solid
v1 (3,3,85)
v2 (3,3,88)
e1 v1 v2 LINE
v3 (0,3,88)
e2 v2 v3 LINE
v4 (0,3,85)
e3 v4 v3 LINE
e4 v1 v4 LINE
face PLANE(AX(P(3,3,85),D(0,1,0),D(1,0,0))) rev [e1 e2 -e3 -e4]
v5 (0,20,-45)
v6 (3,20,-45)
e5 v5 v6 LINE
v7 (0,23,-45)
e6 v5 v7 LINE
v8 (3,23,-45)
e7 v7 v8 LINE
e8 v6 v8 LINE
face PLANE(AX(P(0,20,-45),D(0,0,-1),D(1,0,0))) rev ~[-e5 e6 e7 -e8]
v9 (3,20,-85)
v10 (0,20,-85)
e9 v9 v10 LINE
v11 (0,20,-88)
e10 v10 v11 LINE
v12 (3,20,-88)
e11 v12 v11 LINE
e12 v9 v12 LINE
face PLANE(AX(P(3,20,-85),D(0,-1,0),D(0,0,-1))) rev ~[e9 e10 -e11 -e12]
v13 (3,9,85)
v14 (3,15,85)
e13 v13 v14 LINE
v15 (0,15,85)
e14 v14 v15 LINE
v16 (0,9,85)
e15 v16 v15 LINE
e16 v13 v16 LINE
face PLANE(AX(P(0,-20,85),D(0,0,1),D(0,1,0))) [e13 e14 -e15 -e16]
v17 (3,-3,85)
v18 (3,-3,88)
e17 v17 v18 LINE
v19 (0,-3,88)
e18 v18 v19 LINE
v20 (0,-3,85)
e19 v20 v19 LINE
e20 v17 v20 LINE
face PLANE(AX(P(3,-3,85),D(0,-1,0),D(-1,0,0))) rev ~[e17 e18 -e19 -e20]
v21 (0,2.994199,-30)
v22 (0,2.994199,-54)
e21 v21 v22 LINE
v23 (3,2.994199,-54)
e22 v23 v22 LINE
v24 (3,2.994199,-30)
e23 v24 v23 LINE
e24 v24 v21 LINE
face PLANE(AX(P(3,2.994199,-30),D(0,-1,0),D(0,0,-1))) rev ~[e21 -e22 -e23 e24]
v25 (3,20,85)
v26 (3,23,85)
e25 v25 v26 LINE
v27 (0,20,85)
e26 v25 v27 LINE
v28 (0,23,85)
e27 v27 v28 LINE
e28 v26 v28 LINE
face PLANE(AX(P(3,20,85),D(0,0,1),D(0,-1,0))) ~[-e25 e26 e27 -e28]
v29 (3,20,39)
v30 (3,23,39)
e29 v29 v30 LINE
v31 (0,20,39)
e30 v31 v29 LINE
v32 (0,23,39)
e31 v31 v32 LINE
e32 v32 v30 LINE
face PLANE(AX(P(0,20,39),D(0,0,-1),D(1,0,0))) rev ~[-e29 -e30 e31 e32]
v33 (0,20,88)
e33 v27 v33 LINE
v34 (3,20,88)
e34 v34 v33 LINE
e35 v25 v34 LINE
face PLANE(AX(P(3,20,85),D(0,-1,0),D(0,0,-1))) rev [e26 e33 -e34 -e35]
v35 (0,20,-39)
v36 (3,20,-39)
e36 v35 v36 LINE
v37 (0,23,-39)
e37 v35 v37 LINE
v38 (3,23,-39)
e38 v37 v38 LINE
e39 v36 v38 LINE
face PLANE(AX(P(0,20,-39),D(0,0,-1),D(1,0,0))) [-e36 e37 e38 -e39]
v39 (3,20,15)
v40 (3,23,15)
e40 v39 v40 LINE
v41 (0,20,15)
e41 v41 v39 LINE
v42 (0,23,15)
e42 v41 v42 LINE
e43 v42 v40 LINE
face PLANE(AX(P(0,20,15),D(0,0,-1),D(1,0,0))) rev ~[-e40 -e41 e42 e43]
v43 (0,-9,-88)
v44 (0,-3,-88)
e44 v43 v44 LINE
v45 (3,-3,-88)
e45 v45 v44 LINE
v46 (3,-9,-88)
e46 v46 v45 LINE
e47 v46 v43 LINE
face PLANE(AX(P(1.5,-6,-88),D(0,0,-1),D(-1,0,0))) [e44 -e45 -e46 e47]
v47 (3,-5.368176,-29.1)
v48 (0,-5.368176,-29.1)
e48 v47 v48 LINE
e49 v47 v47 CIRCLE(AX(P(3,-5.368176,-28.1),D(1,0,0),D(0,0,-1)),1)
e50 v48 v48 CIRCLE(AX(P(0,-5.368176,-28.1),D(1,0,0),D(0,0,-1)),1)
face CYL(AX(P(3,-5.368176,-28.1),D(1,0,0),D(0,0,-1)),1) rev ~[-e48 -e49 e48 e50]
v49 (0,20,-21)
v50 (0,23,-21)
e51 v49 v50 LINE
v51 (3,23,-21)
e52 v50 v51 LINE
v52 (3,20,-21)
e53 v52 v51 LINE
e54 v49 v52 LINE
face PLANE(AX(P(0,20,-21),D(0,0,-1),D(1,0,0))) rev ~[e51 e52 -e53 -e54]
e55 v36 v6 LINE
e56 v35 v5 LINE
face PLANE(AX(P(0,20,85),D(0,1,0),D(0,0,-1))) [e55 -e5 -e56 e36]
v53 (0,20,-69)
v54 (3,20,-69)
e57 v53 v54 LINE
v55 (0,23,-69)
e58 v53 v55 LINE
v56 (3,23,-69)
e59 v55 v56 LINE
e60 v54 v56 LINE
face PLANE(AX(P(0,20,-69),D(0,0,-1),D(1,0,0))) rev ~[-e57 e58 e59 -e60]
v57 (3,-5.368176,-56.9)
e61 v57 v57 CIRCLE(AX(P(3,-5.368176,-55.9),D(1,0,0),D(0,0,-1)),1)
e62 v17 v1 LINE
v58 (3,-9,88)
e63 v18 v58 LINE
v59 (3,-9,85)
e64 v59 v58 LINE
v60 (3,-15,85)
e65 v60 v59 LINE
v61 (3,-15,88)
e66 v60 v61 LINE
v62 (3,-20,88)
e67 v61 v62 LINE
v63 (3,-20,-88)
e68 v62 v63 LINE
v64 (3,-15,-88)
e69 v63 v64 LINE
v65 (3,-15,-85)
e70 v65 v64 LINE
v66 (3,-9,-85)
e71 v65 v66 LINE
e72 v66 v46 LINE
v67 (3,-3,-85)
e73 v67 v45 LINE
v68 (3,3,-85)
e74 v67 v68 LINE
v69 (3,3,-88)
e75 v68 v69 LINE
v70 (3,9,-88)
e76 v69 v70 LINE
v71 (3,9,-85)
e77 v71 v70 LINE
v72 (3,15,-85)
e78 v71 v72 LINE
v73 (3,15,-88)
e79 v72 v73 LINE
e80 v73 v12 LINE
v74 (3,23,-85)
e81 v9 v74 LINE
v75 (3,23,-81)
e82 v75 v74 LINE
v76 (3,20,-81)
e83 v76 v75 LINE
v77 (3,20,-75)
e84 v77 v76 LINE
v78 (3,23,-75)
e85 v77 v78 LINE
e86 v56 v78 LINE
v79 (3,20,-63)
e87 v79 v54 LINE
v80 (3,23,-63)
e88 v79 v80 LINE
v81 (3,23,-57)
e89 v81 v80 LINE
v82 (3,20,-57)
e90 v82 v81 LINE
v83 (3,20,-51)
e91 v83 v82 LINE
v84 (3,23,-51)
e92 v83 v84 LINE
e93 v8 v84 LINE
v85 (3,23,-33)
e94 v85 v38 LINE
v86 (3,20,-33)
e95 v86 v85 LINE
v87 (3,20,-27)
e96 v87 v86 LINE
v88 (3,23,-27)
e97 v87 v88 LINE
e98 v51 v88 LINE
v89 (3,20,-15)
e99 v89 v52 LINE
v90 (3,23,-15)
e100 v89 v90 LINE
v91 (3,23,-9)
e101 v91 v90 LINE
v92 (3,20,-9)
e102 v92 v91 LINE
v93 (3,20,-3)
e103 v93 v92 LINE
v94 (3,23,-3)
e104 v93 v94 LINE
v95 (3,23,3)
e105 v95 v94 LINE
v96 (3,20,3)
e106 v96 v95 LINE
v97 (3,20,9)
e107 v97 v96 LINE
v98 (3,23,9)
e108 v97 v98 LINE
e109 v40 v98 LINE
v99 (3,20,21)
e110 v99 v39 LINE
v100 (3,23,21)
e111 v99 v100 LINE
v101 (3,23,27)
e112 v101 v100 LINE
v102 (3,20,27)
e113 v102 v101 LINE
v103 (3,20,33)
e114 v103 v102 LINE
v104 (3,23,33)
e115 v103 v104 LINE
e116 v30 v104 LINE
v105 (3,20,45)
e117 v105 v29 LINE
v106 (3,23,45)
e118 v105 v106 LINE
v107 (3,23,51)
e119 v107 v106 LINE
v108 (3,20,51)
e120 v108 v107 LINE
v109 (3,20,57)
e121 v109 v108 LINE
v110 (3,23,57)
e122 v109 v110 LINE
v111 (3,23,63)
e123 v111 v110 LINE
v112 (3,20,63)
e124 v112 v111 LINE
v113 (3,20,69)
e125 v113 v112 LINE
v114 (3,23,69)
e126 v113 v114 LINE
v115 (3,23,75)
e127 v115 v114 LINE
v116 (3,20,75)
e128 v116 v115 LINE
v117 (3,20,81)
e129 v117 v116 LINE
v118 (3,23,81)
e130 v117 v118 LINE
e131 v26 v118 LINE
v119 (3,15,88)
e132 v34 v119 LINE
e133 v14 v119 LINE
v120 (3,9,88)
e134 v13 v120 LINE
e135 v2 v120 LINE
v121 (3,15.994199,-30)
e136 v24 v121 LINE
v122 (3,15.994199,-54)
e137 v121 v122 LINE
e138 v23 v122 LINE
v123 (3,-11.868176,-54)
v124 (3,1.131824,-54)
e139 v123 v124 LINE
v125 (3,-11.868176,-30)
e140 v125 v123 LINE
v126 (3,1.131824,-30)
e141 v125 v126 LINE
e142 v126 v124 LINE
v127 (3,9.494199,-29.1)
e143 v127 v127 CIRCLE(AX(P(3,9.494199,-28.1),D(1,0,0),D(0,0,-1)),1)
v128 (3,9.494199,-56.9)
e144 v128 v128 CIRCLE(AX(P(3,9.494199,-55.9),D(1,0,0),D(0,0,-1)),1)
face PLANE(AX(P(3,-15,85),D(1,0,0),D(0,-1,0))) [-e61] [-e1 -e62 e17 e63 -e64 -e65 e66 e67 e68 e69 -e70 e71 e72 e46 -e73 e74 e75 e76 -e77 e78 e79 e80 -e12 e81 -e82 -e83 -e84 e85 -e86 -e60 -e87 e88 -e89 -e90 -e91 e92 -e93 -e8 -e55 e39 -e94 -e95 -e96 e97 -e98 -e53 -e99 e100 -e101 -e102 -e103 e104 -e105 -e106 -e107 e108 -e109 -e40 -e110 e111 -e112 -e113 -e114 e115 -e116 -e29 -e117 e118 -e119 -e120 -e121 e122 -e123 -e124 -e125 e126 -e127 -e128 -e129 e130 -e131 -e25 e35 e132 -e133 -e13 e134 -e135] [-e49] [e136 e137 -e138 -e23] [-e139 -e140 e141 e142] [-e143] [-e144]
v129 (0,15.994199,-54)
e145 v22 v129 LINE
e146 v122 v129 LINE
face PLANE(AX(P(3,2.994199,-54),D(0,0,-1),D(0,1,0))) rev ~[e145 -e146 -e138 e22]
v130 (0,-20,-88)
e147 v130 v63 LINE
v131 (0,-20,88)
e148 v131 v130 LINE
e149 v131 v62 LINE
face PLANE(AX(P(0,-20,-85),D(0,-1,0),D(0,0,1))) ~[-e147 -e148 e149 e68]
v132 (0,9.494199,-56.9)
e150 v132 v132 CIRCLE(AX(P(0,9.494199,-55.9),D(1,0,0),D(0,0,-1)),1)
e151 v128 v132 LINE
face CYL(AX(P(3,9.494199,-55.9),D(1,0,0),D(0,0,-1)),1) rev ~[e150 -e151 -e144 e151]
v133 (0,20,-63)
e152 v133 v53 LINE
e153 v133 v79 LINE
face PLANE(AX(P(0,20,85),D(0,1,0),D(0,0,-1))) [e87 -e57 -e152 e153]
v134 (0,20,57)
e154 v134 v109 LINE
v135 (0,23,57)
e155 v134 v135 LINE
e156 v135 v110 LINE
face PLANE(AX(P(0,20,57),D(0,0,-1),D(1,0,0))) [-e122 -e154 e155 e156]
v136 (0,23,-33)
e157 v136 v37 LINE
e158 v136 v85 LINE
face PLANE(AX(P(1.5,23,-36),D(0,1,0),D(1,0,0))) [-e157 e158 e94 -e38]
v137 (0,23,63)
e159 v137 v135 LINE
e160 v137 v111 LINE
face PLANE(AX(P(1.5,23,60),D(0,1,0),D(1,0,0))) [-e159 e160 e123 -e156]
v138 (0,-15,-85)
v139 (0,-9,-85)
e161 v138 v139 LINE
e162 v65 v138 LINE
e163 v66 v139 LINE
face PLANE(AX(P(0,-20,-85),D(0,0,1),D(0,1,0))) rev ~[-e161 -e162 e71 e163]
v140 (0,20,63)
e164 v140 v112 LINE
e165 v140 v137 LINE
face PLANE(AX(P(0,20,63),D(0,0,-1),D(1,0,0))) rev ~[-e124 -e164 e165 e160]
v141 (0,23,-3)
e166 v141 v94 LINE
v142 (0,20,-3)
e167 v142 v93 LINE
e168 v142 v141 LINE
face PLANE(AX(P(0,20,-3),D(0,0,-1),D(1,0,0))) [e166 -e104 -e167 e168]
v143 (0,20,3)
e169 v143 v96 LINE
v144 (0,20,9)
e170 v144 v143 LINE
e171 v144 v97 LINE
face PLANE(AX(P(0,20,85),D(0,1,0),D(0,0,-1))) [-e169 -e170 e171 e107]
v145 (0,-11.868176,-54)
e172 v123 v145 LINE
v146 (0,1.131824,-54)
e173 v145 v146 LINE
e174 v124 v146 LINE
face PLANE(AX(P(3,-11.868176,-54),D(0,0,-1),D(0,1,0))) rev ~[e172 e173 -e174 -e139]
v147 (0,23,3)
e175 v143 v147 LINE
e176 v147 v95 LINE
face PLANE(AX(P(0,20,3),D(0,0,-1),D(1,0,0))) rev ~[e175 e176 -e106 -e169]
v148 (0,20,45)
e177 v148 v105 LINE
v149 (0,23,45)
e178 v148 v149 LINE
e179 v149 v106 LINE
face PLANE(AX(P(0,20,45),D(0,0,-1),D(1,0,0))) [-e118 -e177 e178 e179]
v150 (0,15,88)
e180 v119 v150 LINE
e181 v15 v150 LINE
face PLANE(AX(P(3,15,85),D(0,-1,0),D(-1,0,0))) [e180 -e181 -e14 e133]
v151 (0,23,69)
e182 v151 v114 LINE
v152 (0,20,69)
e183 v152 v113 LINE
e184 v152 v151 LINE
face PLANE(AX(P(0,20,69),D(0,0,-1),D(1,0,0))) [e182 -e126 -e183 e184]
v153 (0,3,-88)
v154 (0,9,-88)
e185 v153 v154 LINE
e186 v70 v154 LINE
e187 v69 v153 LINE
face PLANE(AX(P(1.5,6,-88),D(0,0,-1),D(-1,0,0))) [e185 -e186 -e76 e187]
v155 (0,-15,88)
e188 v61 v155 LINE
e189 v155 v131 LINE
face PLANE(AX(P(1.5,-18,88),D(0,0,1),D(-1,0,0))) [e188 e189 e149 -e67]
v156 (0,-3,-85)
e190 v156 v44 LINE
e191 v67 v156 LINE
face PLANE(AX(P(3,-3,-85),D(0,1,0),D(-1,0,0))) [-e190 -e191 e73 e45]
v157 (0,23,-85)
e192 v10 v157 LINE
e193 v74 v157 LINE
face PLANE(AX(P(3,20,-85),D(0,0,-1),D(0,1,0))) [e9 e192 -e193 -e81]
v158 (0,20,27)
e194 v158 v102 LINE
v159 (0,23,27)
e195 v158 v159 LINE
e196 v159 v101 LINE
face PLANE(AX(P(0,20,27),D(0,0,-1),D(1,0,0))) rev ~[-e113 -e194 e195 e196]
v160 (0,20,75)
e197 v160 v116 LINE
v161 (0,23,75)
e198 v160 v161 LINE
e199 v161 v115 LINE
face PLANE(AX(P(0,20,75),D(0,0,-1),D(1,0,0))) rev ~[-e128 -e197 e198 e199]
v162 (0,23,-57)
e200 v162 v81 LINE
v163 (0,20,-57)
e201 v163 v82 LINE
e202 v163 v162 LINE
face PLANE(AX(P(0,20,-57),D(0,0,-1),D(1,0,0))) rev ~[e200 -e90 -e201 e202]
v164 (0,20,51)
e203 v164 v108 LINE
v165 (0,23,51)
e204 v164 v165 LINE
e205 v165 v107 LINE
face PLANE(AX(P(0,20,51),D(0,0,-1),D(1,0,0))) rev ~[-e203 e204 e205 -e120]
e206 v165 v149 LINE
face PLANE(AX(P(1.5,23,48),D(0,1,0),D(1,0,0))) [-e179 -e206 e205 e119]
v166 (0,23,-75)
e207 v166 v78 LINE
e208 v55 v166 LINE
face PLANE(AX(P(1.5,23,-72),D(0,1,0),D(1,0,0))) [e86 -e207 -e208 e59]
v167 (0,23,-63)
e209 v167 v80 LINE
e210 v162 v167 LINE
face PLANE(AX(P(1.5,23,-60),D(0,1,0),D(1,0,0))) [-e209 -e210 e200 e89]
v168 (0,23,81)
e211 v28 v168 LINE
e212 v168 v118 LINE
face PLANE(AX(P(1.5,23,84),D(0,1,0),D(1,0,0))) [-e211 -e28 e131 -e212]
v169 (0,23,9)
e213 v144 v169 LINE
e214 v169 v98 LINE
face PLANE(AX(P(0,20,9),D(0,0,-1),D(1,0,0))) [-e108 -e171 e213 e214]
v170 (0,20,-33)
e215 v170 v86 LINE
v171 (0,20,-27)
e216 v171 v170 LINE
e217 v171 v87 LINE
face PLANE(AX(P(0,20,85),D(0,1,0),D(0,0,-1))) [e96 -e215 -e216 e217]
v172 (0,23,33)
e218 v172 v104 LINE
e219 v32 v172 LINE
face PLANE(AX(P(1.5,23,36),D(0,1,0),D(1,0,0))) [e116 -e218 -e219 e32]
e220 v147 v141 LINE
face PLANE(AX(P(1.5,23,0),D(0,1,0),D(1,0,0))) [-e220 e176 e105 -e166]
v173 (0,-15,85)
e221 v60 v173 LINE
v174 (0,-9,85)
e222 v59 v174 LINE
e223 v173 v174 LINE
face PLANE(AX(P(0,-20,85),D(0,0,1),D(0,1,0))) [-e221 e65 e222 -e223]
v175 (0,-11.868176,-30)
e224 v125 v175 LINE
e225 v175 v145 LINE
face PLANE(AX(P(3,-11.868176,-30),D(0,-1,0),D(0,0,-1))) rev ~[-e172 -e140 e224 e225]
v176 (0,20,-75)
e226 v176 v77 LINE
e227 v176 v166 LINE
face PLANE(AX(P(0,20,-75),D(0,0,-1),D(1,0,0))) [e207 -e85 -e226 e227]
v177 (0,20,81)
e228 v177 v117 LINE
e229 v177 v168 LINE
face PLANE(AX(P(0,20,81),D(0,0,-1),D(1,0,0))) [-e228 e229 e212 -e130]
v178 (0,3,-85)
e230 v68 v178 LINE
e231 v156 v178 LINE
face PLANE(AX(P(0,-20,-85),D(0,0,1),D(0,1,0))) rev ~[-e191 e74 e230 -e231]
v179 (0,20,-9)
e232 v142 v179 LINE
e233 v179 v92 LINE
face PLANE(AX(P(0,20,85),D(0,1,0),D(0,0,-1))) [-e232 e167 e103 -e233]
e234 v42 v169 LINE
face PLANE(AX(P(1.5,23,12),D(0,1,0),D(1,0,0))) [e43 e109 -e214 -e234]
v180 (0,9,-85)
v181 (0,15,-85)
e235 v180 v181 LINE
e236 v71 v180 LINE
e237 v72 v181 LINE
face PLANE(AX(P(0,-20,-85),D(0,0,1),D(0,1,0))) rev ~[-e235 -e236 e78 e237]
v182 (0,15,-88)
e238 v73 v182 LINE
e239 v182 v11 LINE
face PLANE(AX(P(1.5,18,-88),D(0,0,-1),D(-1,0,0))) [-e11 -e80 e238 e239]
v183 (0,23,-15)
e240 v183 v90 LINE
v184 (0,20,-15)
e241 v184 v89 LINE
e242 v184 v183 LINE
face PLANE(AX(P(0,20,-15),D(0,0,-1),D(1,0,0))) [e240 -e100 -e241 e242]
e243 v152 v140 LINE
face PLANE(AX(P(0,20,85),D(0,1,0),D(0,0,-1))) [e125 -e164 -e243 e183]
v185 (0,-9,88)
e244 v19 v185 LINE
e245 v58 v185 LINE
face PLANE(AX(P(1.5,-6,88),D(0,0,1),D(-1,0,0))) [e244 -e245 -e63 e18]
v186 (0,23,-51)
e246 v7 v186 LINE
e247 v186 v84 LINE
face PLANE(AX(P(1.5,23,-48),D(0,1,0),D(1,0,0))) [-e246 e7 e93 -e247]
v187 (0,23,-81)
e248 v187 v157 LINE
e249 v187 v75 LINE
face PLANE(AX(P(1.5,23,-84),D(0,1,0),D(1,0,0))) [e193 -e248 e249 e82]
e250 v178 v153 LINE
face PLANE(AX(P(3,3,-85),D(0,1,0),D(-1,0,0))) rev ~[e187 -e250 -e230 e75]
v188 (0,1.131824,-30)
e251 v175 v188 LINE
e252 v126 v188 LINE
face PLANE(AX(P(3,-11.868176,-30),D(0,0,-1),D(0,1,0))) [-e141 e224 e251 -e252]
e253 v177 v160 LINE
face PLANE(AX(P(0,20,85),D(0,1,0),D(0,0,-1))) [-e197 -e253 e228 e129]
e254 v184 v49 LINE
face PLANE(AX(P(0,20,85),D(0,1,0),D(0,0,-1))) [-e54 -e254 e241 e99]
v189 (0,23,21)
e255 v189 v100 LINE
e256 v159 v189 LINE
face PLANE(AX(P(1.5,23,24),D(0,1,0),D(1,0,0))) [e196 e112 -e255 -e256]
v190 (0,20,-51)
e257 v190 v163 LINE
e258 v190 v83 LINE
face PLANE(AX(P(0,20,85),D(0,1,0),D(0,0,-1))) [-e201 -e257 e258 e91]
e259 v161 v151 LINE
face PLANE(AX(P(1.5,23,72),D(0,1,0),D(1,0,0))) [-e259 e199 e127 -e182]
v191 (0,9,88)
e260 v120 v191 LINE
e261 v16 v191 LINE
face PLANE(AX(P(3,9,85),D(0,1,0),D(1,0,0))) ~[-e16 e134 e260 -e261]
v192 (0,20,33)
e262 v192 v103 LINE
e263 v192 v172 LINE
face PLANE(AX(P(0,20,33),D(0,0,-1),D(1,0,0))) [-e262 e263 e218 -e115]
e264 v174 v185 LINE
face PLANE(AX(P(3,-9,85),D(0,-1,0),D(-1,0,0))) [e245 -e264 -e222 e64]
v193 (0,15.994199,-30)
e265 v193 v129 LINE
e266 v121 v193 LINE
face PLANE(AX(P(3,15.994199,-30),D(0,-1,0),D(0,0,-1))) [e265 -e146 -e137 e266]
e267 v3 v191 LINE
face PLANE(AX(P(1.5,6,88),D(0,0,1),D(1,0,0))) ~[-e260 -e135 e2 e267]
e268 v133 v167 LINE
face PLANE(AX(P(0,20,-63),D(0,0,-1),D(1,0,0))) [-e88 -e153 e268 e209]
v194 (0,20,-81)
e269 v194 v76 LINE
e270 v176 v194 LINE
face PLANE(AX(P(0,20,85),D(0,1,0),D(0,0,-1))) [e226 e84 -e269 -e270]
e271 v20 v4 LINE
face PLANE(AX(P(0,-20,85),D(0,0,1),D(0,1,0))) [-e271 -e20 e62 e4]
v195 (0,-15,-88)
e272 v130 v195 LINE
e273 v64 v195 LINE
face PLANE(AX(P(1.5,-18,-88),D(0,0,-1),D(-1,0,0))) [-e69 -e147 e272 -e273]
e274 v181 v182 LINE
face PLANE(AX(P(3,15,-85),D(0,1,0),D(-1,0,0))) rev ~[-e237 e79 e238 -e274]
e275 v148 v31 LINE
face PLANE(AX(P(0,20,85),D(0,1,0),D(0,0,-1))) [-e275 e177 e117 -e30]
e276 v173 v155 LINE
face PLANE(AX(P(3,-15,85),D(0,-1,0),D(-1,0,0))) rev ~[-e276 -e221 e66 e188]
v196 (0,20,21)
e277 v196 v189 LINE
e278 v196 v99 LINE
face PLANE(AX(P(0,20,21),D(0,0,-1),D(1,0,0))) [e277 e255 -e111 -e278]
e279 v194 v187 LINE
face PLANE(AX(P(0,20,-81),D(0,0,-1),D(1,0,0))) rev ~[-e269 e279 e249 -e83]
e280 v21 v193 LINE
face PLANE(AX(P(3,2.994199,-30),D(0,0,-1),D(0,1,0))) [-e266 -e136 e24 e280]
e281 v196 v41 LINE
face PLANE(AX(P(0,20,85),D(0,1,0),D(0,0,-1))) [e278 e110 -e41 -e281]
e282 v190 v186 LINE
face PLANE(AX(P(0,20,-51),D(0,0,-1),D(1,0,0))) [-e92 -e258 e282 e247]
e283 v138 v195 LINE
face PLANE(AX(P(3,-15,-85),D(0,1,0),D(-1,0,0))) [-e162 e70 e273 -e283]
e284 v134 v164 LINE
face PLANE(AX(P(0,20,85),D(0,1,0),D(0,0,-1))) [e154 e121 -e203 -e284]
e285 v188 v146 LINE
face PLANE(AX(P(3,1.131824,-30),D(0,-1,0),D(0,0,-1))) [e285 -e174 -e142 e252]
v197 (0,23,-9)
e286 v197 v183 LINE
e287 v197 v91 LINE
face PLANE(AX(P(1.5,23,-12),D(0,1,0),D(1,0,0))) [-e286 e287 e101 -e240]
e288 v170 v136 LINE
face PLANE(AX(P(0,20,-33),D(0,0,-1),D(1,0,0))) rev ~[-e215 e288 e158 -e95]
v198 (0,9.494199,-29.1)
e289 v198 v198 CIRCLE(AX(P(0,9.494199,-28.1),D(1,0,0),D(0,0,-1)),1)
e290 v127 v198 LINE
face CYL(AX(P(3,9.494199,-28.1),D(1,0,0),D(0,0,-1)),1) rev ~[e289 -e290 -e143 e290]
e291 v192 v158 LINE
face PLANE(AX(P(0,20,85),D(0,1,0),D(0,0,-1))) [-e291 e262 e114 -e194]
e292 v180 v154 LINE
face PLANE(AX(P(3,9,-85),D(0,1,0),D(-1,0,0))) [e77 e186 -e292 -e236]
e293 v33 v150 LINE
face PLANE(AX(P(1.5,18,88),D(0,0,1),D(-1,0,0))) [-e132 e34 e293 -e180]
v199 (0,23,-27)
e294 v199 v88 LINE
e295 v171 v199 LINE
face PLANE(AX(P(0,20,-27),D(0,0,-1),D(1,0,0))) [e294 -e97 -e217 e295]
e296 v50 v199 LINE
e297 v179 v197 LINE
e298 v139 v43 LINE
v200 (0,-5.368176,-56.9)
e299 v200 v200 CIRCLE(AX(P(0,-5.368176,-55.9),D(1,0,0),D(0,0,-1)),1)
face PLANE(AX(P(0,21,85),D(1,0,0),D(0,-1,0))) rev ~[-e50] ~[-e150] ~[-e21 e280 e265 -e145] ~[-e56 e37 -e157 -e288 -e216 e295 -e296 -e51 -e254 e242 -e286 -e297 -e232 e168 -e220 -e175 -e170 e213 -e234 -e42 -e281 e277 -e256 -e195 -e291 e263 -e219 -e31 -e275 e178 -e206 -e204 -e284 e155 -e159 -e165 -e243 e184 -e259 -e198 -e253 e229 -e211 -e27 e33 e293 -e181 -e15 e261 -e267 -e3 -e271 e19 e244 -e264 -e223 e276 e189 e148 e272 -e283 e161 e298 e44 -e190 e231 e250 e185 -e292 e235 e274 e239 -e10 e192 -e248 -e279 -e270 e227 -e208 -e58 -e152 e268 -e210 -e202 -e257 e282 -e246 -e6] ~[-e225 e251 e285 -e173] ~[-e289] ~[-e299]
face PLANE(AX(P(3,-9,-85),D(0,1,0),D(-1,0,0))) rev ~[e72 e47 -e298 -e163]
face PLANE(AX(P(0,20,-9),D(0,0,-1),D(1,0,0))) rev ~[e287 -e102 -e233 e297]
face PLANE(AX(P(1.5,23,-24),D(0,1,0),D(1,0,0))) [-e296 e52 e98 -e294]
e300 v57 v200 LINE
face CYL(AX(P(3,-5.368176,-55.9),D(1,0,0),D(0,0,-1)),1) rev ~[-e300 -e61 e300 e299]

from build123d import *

# Parameters (mm, degrees)
SKETCH1_W               = 170
SKETCH1_H               = 40
BOSS_EXTRUDE1_DEPTH     = 3
SKETCH3_W               = 3
SKETCH3_H               = 6
BOSS_EXTRUDE2_DEPTH     = 3
LPATTERN1_COUNT         = 3
LPATTERN1_PITCH         = 12
LPATTERN1_COL_COUNT     = 2
LPATTERN1_COL_PITCH     = 12
SKETCH4_W               = 3
SKETCH4_H               = 6
BOSS_EXTRUDE3_DEPTH     = 3
LPATTERN2_COUNT         = 8
LPATTERN2_PITCH         = 12
LPATTERN2_COL_COUNT     = 8
LPATTERN2_COL_PITCH     = 12
MIRROR1_COPY_1_SKETCH_W = 3
MIRROR1_COPY_1_SKETCH_H = 6
MIRROR1_COPY_1_DEPTH    = 3
MIRROR1_COPY_2_SKETCH_W = 3
MIRROR1_COPY_2_SKETCH_H = 6
MIRROR1_COPY_2_DEPTH    = 3
MIRROR1_COPY_3_SKETCH_W = 3
MIRROR1_COPY_3_SKETCH_H = 6
MIRROR1_COPY_3_DEPTH    = 3
SKETCH6_R               = 1
SKETCH6_W               = 24
SKETCH6_H               = 13
CUT_EXTRUDE2_DEPTH      = 4
SKETCH7_W               = 3
SKETCH7_H               = 3
CUT_EXTRUDE4_DEPTH      = 4
SKETCH8_W               = 3
SKETCH8_H               = 1
CUT_EXTRUDE5_DEPTH      = 3


with BuildPart() as part:
    # Sketch1 → Boss-Extrude1 (new body)
    with BuildSketch(Plane(origin=(0, 0, 0), x_dir=(0, 0, -1), z_dir=(1, 0, 0))):
        Rectangle(SKETCH1_W, SKETCH1_H)
    extrude(amount=BOSS_EXTRUDE1_DEPTH)

    # Sketch3 → Boss-Extrude2 (add)
    with BuildSketch(Plane(origin=(0, 0, -85), x_dir=(-1, 0, 0), z_dir=(0, 0, -1))):
        with Locations((-1.5, 6)):
            Rectangle(SKETCH3_W, SKETCH3_H)
    boss_extrude2 = extrude(amount=BOSS_EXTRUDE2_DEPTH)

    # LPattern1: Boss-Extrude2 ×3
    with Locations(*[(0, -i * LPATTERN1_PITCH, 0) for i in range(1, LPATTERN1_COUNT)]):
        add(boss_extrude2)

    # LPattern1 col: Boss-Extrude2 ×2
    with Locations(*[(0, i * LPATTERN1_COL_PITCH, 0) for i in range(1, LPATTERN1_COL_COUNT)]):
        add(boss_extrude2)

    # Sketch4 → Boss-Extrude3 (add)
    with BuildSketch(Plane(origin=(0, 20, 0), x_dir=(1, 0, 0), z_dir=(0, 1, 0))):
        with Locations((1.5, 0)):
            Rectangle(SKETCH4_W, SKETCH4_H)
    boss_extrude3 = extrude(amount=BOSS_EXTRUDE3_DEPTH)

    # LPattern2: Boss-Extrude3 ×8
    with Locations(*[(0, 0, -i * LPATTERN2_PITCH) for i in range(1, LPATTERN2_COUNT)]):
        add(boss_extrude3)

    # LPattern2 col: Boss-Extrude3 ×8
    with Locations(*[(0, 0, i * LPATTERN2_COL_PITCH) for i in range(1, LPATTERN2_COL_COUNT)]):
        add(boss_extrude3)

    # Mirror1: Boss-Extrude2 across plane
    add(boss_extrude2.mirror(Plane.XY))

    # Mirror1 copy 1 sketch → Mirror1 copy 1 (add)
    with BuildSketch(Plane(origin=(0, -12, 85), x_dir=(-1, 0, 0), z_dir=(0, 0, 1))):
        with Locations((-1.5, -6)):
            Rectangle(MIRROR1_COPY_1_SKETCH_W, MIRROR1_COPY_1_SKETCH_H)
    extrude(amount=MIRROR1_COPY_1_DEPTH)

    # Mirror1 copy 2 sketch → Mirror1 copy 2 (add)
    with BuildSketch(Plane(origin=(0, -24, 85), x_dir=(-1, 0, 0), z_dir=(0, 0, 1))):
        with Locations((-1.5, -6)):
            Rectangle(MIRROR1_COPY_2_SKETCH_W, MIRROR1_COPY_2_SKETCH_H)
    extrude(amount=MIRROR1_COPY_2_DEPTH)

    # Mirror1 copy 3 sketch → Mirror1 copy 3 (add)
    with BuildSketch(Plane(origin=(0, 12, 85), x_dir=(-1, 0, 0), z_dir=(0, 0, 1))):
        with Locations((-1.5, -6)):
            Rectangle(MIRROR1_COPY_3_SKETCH_W, MIRROR1_COPY_3_SKETCH_H)
    extrude(amount=MIRROR1_COPY_3_DEPTH)

    # Sketch6 → Cut-Extrude2 (cut, through all)
    with BuildSketch(Plane(origin=(3, 0, 0), x_dir=(0, 0, -1), z_dir=(1, 0, 0))):
        with Locations((28.1, -5.368175576)):
            Circle(SKETCH6_R)
        with Locations((55.9, -5.368175576)):
            Circle(SKETCH6_R)
        with Locations((28.1, 9.494198583)):
            Circle(SKETCH6_R)
        with Locations((55.9, 9.494198583)):
            Circle(SKETCH6_R)
        with Locations((42, -5.368175576)):
            Rectangle(SKETCH6_W, SKETCH6_H)
        with Locations((42, 9.494198583)):
            Rectangle(SKETCH6_W, SKETCH6_H)
    extrude(amount=-CUT_EXTRUDE2_DEPTH, mode=Mode.SUBTRACT)

    # Sketch7 → Cut-Extrude4 (cut, through all)
    with BuildSketch(Plane(origin=(3, 0, 0), x_dir=(0, 0, -1), z_dir=(1, 0, 0))):
        with Locations((86.5, 21.5)):
            Rectangle(SKETCH7_W, SKETCH7_H)
    cut_extrude4 = extrude(amount=-CUT_EXTRUDE4_DEPTH, mode=Mode.SUBTRACT)

    # Mirror2: Cut-Extrude4 across plane
    add(cut_extrude4.mirror(Plane.XY), mode=Mode.SUBTRACT)

    # Sketch8 → Cut-Extrude5 (cut)
    with BuildSketch(Plane.ZY):
        with Locations((86.5, -20.5)):
            Rectangle(SKETCH8_W, SKETCH8_H)
    cut_extrude5 = extrude(amount=-CUT_EXTRUDE5_DEPTH, mode=Mode.SUBTRACT)

    # Mirror3: Cut-Extrude5 across plane
    add(cut_extrude5.mirror(Plane.XY), mode=Mode.SUBTRACT)


solid = part.part
